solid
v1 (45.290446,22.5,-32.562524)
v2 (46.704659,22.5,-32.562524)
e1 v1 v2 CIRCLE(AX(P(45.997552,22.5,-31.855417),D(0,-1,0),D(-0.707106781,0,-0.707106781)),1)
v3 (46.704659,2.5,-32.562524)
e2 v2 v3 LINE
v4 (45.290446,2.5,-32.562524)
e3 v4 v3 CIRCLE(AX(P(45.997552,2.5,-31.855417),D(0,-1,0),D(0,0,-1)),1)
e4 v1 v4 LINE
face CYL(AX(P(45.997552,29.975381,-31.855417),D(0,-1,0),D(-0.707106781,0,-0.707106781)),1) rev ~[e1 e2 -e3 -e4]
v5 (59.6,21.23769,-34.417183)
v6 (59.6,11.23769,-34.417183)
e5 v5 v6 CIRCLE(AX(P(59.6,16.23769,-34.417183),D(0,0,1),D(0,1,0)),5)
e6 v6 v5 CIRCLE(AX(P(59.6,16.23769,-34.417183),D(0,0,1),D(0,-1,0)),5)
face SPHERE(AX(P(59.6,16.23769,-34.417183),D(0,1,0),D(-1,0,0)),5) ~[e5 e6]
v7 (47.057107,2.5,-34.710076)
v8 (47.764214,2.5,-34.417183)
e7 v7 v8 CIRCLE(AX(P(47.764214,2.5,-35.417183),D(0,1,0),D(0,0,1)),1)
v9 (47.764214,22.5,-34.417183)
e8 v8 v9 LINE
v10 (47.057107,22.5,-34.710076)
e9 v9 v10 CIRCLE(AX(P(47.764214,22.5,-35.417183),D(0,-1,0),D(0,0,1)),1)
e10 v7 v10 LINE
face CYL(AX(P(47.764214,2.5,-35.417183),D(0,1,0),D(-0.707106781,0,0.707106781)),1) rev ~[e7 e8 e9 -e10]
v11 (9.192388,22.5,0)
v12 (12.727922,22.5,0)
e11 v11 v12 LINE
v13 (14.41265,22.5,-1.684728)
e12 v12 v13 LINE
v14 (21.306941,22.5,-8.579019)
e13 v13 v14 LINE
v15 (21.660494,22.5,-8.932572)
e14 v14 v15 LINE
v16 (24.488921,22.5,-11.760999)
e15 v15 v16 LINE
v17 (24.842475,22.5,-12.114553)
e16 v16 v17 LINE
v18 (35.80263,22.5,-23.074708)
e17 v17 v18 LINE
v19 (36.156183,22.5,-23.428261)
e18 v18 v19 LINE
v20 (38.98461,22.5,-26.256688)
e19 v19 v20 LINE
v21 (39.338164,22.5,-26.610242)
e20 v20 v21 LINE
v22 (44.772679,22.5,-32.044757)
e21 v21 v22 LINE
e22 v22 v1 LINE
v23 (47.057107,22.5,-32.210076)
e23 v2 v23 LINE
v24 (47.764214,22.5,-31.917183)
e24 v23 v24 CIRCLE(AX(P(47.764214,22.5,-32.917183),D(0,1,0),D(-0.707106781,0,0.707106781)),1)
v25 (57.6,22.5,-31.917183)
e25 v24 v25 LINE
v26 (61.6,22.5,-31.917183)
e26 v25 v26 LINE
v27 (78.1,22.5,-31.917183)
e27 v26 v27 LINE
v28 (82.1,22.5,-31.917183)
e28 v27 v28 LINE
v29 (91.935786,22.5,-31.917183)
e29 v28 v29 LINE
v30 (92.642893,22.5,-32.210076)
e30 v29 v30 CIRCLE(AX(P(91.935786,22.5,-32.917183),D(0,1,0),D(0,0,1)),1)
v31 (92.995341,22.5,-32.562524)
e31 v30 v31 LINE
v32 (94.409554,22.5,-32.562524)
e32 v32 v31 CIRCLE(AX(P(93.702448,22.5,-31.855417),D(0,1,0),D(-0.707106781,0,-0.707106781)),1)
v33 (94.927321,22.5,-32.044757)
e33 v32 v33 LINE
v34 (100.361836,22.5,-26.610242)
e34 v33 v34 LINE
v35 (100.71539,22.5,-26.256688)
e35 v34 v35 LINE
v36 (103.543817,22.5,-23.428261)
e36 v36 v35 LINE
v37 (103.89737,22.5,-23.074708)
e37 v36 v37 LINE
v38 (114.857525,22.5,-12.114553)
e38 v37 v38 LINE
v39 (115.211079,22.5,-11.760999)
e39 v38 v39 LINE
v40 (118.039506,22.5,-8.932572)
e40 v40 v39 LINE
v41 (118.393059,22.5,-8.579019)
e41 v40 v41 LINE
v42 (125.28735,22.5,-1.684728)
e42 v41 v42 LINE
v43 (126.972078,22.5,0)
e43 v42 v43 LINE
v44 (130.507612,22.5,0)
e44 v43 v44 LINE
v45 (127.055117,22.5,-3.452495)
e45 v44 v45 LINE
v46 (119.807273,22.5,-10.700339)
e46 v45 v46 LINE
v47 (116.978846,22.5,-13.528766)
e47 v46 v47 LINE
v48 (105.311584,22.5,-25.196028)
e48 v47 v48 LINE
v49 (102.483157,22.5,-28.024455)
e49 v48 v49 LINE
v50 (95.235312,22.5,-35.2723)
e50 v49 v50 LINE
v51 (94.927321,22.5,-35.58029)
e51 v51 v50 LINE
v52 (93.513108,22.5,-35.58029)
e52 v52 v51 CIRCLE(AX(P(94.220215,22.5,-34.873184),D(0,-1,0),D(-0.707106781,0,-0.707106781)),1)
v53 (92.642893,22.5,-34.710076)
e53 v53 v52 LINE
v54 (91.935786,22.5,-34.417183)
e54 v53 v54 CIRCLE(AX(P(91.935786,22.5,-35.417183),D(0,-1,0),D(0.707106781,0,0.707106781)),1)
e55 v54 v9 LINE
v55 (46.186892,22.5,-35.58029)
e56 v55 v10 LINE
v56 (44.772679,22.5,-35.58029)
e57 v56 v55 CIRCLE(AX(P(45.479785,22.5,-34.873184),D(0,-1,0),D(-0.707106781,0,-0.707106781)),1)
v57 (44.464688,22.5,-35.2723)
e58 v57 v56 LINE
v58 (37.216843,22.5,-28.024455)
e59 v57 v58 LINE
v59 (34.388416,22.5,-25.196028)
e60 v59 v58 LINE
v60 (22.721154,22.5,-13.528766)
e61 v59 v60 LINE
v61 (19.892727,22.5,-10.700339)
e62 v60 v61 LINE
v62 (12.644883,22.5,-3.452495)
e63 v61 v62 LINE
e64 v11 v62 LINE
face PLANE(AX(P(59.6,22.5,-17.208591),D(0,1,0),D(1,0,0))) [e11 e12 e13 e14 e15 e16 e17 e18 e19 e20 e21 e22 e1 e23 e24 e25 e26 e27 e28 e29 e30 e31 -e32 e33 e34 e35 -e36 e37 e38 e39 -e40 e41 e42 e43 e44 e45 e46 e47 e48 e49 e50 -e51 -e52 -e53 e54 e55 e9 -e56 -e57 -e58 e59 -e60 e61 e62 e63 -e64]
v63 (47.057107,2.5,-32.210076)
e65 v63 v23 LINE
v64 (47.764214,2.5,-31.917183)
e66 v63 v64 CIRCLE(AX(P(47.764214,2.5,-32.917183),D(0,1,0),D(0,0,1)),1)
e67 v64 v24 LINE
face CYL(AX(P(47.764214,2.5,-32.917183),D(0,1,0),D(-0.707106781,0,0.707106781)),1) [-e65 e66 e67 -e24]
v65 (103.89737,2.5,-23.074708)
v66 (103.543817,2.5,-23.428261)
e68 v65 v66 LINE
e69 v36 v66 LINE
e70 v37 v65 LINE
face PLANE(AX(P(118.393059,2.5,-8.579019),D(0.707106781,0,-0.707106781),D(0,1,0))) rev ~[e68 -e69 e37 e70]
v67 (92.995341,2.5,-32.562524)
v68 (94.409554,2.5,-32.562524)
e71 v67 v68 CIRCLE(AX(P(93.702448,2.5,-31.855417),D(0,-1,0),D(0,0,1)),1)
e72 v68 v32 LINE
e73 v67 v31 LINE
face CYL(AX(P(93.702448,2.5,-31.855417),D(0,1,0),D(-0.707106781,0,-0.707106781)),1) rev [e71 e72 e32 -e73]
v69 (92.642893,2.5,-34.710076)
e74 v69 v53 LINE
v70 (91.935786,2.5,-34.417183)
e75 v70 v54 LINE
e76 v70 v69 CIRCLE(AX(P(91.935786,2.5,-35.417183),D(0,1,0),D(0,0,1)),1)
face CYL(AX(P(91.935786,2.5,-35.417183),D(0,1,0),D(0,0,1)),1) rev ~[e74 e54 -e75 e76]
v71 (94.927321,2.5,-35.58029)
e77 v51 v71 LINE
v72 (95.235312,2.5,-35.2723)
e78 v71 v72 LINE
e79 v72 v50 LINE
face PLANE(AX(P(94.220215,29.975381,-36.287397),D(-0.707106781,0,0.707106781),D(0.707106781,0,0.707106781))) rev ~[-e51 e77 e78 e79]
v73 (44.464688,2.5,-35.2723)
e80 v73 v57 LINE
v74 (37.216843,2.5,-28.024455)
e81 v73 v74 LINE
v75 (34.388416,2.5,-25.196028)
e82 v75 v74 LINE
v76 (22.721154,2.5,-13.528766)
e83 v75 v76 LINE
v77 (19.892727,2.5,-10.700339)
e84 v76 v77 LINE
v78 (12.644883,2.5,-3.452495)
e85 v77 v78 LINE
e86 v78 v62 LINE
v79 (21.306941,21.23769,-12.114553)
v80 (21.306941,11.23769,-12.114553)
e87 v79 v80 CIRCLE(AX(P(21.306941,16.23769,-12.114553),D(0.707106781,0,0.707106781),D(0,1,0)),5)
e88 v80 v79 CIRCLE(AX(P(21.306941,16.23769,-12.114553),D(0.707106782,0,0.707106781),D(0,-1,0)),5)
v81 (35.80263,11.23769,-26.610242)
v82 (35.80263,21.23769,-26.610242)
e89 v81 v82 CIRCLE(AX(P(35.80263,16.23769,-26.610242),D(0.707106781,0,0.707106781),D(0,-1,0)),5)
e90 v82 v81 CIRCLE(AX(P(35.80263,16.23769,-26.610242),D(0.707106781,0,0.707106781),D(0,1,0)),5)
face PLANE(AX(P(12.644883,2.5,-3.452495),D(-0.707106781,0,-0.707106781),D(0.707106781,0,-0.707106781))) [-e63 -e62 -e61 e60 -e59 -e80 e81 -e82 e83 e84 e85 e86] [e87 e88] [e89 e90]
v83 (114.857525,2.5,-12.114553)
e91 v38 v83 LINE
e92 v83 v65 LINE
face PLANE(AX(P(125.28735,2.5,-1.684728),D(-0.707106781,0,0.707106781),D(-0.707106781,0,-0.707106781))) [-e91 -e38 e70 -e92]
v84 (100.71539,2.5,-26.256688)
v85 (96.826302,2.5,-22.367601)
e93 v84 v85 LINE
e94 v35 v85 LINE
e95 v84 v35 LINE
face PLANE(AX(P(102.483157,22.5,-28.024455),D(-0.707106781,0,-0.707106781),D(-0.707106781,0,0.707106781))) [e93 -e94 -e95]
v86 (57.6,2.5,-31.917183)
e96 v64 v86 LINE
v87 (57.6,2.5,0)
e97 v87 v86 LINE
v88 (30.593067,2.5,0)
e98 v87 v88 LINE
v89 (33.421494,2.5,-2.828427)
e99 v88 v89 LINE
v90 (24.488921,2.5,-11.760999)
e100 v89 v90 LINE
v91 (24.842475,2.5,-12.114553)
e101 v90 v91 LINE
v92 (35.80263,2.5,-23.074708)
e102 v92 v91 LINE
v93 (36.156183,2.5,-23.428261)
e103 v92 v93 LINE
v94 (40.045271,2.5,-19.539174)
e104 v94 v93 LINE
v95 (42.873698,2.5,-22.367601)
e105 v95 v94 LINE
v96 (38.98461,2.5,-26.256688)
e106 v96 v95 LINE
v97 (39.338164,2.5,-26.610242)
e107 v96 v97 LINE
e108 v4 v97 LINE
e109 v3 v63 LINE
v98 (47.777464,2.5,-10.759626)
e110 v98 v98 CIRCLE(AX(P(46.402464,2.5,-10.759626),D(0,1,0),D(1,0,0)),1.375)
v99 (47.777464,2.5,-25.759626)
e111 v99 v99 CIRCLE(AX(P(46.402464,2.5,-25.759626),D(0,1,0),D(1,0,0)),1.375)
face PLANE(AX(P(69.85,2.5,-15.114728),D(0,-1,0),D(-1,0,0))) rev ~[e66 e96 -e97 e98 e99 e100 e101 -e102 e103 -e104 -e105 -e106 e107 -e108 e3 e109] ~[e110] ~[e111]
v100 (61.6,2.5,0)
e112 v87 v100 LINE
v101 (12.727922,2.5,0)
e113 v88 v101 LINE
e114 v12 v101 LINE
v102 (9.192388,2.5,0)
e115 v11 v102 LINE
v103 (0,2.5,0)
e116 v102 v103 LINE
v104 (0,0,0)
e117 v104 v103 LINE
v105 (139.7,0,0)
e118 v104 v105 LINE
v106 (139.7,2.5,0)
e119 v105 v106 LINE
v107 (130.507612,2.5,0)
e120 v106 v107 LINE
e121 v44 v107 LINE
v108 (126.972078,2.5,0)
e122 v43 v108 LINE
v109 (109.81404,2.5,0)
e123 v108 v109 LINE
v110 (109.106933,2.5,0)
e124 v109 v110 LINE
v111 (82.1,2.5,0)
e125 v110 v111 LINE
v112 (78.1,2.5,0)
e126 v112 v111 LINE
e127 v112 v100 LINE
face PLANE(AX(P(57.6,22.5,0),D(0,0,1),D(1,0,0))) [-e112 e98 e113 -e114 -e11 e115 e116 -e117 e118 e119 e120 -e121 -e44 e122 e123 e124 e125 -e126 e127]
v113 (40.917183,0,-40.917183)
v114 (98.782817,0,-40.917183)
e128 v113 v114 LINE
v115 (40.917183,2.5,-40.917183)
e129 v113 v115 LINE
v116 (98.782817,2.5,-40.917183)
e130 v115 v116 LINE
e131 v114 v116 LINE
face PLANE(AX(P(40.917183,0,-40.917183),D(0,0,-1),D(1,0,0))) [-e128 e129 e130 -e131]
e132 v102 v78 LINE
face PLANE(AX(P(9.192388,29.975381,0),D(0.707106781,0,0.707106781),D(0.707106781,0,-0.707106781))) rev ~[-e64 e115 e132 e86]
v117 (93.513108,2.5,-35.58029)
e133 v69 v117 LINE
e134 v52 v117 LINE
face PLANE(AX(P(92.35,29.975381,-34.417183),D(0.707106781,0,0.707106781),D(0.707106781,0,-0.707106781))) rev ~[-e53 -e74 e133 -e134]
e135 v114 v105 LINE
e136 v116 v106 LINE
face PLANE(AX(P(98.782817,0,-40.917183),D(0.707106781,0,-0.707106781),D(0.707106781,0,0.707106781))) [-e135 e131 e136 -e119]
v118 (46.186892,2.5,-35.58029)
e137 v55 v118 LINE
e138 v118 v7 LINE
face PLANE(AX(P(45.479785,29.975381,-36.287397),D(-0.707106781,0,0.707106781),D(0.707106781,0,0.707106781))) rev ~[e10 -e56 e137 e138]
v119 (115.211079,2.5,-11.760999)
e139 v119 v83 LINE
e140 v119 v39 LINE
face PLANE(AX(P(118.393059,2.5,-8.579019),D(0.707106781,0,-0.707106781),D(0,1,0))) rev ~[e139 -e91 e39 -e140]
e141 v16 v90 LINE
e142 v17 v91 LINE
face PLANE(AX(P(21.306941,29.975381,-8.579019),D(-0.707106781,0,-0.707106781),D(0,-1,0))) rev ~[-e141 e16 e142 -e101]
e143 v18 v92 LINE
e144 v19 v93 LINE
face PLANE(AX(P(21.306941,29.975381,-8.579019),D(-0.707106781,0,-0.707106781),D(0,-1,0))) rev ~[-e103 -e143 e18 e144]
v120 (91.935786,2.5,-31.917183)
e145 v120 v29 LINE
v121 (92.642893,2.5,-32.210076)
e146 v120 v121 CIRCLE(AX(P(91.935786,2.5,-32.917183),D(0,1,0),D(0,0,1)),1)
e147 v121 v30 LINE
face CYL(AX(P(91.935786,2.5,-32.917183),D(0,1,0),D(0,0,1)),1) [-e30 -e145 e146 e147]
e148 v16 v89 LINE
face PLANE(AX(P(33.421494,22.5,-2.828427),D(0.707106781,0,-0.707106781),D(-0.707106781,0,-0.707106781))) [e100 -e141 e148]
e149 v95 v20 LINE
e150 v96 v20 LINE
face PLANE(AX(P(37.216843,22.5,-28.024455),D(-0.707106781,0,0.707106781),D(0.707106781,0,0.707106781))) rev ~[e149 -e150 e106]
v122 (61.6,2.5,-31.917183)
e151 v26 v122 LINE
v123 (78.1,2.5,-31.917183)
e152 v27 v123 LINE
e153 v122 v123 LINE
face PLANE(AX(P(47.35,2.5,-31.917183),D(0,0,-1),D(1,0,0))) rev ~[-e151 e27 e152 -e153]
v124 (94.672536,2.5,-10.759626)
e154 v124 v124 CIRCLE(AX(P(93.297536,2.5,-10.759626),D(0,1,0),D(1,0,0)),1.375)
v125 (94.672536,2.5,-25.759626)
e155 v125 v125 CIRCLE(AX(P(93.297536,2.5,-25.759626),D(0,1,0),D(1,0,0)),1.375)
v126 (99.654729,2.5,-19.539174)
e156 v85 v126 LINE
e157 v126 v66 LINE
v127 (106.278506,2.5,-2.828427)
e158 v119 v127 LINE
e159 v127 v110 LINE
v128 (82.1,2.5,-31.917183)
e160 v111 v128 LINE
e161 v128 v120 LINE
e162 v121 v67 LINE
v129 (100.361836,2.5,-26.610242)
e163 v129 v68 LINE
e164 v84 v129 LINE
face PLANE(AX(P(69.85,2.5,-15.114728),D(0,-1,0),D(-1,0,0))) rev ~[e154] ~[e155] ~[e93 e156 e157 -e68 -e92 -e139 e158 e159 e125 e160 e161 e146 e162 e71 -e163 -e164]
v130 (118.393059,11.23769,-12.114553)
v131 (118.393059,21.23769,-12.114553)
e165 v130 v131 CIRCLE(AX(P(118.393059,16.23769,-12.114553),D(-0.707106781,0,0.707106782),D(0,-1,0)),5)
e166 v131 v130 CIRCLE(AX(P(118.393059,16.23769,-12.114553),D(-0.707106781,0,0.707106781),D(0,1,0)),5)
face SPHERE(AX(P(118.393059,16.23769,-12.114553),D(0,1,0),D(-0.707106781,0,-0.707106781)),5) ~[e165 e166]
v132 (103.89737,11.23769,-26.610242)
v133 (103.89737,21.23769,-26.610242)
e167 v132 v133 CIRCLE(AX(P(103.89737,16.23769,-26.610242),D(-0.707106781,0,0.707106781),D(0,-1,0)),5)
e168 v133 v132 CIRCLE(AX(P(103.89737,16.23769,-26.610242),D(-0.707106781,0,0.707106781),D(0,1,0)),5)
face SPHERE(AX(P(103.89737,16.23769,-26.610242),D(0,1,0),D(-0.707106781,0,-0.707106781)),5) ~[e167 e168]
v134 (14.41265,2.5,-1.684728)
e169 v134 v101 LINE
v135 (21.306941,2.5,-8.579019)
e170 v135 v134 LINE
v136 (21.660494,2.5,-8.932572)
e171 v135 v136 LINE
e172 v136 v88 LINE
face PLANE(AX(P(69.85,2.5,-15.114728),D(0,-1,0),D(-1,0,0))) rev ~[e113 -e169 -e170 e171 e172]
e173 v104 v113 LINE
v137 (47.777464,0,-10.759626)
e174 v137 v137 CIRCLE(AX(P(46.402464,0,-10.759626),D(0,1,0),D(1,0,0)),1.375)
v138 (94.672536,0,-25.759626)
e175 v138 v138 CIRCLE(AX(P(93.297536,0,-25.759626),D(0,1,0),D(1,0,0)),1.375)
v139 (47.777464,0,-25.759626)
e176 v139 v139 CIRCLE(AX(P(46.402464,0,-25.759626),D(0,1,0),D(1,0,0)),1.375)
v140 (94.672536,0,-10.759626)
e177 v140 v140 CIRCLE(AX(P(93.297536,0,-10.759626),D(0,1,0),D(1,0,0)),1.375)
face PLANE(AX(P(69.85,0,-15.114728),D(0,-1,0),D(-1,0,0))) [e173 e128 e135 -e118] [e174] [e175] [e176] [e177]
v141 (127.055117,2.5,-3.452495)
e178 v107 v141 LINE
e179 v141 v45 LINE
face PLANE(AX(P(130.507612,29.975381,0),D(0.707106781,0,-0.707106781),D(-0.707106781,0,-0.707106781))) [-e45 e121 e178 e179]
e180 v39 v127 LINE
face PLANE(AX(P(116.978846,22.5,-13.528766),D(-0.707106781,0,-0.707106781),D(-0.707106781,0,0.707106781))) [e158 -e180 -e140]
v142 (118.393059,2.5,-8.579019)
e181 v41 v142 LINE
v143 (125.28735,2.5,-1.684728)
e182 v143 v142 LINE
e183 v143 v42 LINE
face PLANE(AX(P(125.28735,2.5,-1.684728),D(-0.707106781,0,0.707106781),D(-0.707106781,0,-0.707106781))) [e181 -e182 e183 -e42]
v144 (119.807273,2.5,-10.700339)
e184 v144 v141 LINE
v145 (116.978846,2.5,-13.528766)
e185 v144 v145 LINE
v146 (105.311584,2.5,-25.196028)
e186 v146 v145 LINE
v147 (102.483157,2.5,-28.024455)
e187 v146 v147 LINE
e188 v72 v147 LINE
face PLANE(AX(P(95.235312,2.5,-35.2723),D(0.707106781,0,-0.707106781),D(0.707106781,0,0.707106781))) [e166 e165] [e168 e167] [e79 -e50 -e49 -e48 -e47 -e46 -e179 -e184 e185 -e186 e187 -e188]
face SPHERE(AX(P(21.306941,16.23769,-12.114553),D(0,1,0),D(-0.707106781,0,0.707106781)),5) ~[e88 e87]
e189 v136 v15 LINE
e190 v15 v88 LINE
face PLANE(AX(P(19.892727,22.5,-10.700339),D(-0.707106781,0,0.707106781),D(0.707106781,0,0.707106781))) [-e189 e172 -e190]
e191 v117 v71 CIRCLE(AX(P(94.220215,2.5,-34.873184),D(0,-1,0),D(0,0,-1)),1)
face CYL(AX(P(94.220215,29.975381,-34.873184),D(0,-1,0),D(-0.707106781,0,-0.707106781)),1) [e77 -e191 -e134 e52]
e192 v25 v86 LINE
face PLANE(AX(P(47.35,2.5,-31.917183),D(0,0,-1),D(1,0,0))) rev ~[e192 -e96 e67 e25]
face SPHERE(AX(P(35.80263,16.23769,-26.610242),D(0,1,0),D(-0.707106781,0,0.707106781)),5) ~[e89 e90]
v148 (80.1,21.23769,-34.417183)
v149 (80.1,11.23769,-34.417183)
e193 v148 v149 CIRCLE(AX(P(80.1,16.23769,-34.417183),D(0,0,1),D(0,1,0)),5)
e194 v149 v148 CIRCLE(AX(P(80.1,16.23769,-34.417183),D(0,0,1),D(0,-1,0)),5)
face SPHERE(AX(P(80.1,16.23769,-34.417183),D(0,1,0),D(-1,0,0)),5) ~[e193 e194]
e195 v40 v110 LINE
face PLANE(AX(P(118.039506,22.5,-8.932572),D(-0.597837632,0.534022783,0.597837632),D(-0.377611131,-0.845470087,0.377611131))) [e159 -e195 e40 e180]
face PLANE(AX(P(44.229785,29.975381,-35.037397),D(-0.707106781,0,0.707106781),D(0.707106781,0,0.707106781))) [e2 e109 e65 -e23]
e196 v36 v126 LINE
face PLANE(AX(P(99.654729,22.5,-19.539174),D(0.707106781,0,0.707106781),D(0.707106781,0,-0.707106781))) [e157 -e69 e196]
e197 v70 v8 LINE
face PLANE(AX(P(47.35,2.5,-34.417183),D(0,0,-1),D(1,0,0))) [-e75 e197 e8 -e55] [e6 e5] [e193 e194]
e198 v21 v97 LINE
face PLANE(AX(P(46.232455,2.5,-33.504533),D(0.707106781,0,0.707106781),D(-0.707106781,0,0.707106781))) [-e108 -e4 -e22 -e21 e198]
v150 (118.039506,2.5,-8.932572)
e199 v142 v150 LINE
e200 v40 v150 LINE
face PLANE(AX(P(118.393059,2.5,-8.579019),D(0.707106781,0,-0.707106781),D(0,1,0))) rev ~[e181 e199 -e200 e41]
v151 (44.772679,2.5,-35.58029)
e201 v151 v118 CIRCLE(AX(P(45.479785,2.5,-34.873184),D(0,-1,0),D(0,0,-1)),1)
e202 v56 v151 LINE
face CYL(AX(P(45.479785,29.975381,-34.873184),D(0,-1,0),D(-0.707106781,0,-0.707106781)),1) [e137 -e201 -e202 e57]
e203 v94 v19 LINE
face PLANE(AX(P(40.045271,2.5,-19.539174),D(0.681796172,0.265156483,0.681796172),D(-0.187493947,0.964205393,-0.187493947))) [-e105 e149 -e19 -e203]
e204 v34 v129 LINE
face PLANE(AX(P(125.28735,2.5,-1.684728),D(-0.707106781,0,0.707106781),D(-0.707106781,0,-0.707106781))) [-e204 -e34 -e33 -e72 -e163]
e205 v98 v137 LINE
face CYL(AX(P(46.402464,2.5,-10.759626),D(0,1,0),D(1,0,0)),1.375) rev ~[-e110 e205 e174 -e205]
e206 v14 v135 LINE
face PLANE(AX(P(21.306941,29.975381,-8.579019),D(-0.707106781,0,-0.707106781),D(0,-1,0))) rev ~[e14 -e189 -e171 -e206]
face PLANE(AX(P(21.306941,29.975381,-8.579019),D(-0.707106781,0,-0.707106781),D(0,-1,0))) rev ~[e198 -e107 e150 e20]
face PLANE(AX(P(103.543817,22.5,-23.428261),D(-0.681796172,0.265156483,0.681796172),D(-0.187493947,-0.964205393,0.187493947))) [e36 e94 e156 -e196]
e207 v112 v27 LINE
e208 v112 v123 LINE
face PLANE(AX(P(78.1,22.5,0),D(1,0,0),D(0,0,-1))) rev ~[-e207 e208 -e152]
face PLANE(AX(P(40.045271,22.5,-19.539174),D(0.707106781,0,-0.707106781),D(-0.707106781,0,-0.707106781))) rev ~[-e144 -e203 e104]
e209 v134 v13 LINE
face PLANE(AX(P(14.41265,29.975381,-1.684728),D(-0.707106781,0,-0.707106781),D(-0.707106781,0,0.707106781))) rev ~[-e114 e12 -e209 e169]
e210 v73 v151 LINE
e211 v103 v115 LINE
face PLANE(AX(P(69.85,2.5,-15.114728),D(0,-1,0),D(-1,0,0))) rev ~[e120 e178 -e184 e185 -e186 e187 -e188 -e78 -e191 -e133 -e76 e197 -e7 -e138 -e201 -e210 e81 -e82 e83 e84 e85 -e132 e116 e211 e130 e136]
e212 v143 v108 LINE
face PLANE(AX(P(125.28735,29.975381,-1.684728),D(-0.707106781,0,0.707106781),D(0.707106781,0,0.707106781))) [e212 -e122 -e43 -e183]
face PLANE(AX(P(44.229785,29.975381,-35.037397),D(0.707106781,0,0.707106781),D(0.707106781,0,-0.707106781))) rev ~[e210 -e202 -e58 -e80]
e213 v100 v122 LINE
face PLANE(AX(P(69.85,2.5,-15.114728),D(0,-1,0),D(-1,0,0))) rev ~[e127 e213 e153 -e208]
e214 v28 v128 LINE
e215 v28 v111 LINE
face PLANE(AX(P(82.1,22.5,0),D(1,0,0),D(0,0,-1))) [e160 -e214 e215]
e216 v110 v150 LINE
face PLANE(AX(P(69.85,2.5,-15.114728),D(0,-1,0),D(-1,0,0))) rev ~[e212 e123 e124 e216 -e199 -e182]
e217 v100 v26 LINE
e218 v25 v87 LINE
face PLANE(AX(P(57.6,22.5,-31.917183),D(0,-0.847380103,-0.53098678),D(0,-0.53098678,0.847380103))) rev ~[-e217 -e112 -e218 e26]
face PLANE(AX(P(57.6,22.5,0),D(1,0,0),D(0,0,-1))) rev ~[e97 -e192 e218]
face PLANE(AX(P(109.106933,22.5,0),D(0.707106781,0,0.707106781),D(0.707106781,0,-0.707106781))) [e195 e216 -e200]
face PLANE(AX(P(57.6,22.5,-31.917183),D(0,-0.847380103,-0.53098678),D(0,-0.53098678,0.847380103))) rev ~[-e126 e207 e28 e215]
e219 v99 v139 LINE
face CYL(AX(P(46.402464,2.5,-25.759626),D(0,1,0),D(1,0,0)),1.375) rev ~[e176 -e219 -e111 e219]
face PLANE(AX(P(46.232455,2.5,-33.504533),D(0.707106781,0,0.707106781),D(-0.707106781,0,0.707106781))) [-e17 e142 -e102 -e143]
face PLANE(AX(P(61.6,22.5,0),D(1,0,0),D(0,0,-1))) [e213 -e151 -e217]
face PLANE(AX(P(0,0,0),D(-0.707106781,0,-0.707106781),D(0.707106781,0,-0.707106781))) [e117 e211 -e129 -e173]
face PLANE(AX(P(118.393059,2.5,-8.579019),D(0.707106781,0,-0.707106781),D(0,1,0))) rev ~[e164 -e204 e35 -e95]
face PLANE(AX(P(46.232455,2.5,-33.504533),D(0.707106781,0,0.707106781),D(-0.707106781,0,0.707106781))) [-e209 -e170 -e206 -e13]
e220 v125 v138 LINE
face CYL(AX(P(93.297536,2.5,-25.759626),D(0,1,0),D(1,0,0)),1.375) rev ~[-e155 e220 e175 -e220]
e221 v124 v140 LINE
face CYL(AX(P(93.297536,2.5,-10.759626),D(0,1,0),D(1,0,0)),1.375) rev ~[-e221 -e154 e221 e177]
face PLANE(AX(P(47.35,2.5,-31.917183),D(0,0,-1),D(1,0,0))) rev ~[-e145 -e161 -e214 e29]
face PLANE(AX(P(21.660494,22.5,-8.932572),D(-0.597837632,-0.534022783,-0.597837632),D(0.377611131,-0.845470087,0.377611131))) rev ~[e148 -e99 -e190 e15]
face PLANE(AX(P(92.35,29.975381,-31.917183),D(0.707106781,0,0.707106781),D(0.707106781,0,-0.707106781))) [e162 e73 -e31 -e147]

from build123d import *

# Parameters (mm, degrees)
BRACKETBASE_DEPTH        = 2.5
SKETCH3_R                = 1.375
MOUNTINGHOLES_DEPTH      = 1
MOUNTINGHOLES_DEPTH_BACK = 3.5
BALLMOUNTPRESSURE_W      = 45
BALLMOUNTPRESSURE_H      = 2.5
BALLPRESSUREWALLS_DEPTH  = 27.47538085
BALL1_ANGLE              = 180
BALL2_ANGLE              = 180
BALL3_ANGLE              = 180
REVOLVE4_ANGLE           = 180
REVOLVE5_ANGLE           = 180
REVOLVE6_ANGLE           = 180
BOSS_EXTRUDE2_DEPTH      = 27.475381
FILLET1_R                = 1
SKETCH11_W               = 5
SKETCH11_H               = 31.91718267
BOSS_EXTRUDE3_DEPTH      = 27.475381
CUT_EXTRUDE1_DEPTH       = 47.632564804
CUT_EXTRUDE2_DEPTH       = 28.447536
CUT_EXTRUDE3_DEPTH       = 25.5
SKETCH15_W               = 50.154642736
SKETCH15_H               = 7.47538085
CUT_EXTRUDE4_DEPTH       = 10
SKETCH16_W               = 54.765129608
SKETCH16_H               = 7.47538085
CUT_EXTRUDE5_DEPTH       = 38.932817333
SKETCH17_W               = 54.765129607
SKETCH17_H               = 7.47538085
CUT_EXTRUDE6_DEPTH       = 38.932817333
CUT_EXTRUDE7_DEPTH       = 25.5
CUT_EXTRUDE8_DEPTH       = 28.447536
CUT_EXTRUDE9_DEPTH       = 25.5
SKETCH22_W               = 4
SKETCH22_H               = 34.41718267
BOSS_EXTRUDE4_DEPTH      = 20
CUT_EXTRUDE10_DEPTH      = 24.5
CUT_EXTRUDE11_DEPTH      = 4
CUT_EXTRUDE12_DEPTH      = 4
CUT_EXTRUDE13_DEPTH      = 4
CUT_EXTRUDE14_DEPTH      = 4
BOSS_EXTRUDE5_DEPTH      = 2.5


with BuildPart() as part:
    # Sketch2 → bracketBase (new body)
    with BuildSketch(Plane(origin=(0, 0, 0), x_dir=(1, 0, 0), z_dir=(0, 1, 0))):
        Polygon((0, 0), (40.91718267, 40.91718267), (98.78281733, 40.91718267), (139.7, 0), align=None)
    extrude(amount=BRACKETBASE_DEPTH)

    # Sketch3 → mountingHoles (cut, two sides)
    with BuildSketch(Plane(origin=(0, 2.5, 0), x_dir=(1, 0, 0), z_dir=(0, 1, 0))) as mountingholes_sk:
        with Locations((8.01021217, 3.76757148)):
            Circle(SKETCH3_R)
        with Locations((15.54535513, 11.30271444)):
            Circle(SKETCH3_R)
        with Locations((46.40246404, 25.75962576)):
            Circle(SKETCH3_R)
        with Locations((46.40246404, 10.75962576)):
            Circle(SKETCH3_R)
        with Locations((93.29753596, 10.75962576)):
            Circle(SKETCH3_R)
        with Locations((93.29753596, 25.75962576)):
            Circle(SKETCH3_R)
        with Locations((124.15464487, 11.30271444)):
            Circle(SKETCH3_R)
        with Locations((131.68978783, 3.76757148)):
            Circle(SKETCH3_R)
    extrude(amount=MOUNTINGHOLES_DEPTH, mode=Mode.SUBTRACT)
    extrude(mountingholes_sk.sketch, amount=-MOUNTINGHOLES_DEPTH_BACK, mode=Mode.SUBTRACT)

    # ballMountPressure → ballPressureWalls (add)
    with BuildSketch(Plane(origin=(0, 2.5, 0), x_dir=(1, 0, 0), z_dir=(0, 1, 0))):
        Polygon((12.644882838, 3.452494682), (44.464687991, 35.272299836), (46.232454944, 33.504532883), (14.412649791, 1.684727729), align=None)
        Polygon((125.287350209, 1.684727729), (93.467545056, 33.504532883), (95.235312009, 35.272299836), (127.055117162, 3.452494682), align=None)
        with Locations((69.85, 33.16718267)):
            Rectangle(BALLMOUNTPRESSURE_W, BALLMOUNTPRESSURE_H)
    extrude(amount=BALLPRESSUREWALLS_DEPTH)

    # Sketch4 → ball1 (revolve)
    with BuildSketch(Plane(origin=(0, 0, -34.41718267), x_dir=(-1, 0, 0), z_dir=(0, 0, -1))):
        with BuildLine():
            Line((-80.1, 21.237690425), (-80.1, 11.237690425))
            ThreePointArc((-80.1, 11.237690425), (-75.1, 16.237690425), (-80.1, 21.237690425))
        make_face()
    revolve(axis=Axis((80.1, 21.237690425, -34.41718267), (0, -1, 0)), revolution_arc=BALL1_ANGLE)

    # Sketch5 → ball2 (revolve)
    with BuildSketch(Plane(origin=(0, 0, -34.41718267), x_dir=(-1, 0, 0), z_dir=(0, 0, -1))):
        with BuildLine():
            Line((-59.6, 21.237690425), (-59.6, 11.237690425))
            ThreePointArc((-59.6, 11.237690425), (-54.6, 16.237690425), (-59.6, 21.237690425))
        make_face()
    revolve(axis=Axis((59.6, 21.237690425, -34.41718267), (0, -1, 0)), revolution_arc=BALL2_ANGLE)

    # Sketch6 → ball3 (revolve)
    with BuildSketch(Plane(origin=(65.253805922, 0, -65.253805922), x_dir=(-0.707106781, 0, -0.707106781), z_dir=(0.707106781, 0, -0.707106781))):
        with BuildLine():
            Line((-75.150252528, 21.237690425), (-75.150252528, 11.237690425))
            ThreePointArc((-75.150252528, 11.237690425), (-70.150252528, 16.237690425), (-75.150252528, 21.237690425))
        make_face()
    revolve(axis=Axis((118.393059093, 21.237690425, -12.114552752), (0, -1, 0)), revolution_arc=BALL3_ANGLE)

    # Sketch7 → Revolve4 (revolve)
    with BuildSketch(Plane(origin=(65.253805922, 0, -65.253805922), x_dir=(-0.707106781, 0, -0.707106781), z_dir=(0.707106781, 0, -0.707106781))):
        with BuildLine():
            Line((-54.650252528, 21.237690425), (-54.650252528, 11.237690425))
            ThreePointArc((-54.650252528, 11.237690425), (-49.650252528, 16.237690425), (-54.650252528, 21.237690425))
        make_face()
    revolve(axis=Axis((103.897370078, 21.237690425, -26.610241766), (0, -1, 0)), revolution_arc=REVOLVE4_ANGLE)

    # Sketch8 → Revolve5 (revolve)
    with BuildSketch(Plane(origin=(4.596194078, 0, 4.596194078), x_dir=(-0.707106781, 0, 0.707106781), z_dir=(-0.707106781, 0, -0.707106781))):
        with BuildLine():
            Line((-23.632564804, 21.237690425), (-23.632564804, 11.237690425))
            ThreePointArc((-23.632564804, 11.237690425), (-18.632564804, 16.237690425), (-23.632564804, 21.237690425))
        make_face()
    revolve(axis=Axis((21.306940907, 21.237690425, -12.114552752), (0, -1, 0)), revolution_arc=REVOLVE5_ANGLE)

    # Sketch9 → Revolve6 (revolve)
    with BuildSketch(Plane(origin=(4.596194078, 0, 4.596194078), x_dir=(-0.707106781, 0, 0.707106781), z_dir=(-0.707106781, 0, -0.707106781))):
        with BuildLine():
            Line((-44.132564804, 21.237690425), (-44.132564804, 11.237690425))
            ThreePointArc((-44.132564804, 11.237690425), (-39.132564804, 16.237690425), (-44.132564804, 21.237690425))
        make_face()
    revolve(axis=Axis((35.802629922, 21.237690425, -26.610241766), (0, -1, 0)), revolution_arc=REVOLVE6_ANGLE)

    # Sketch10 → Boss-Extrude2 (add)
    with BuildSketch(Plane(origin=(0, 29.97538085, 0), x_dir=(1, 0, 0), z_dir=(0, 1, 0))):
        Polygon((47.35, 31.91718267), (45.997552366, 33.269630304), (44.229785413, 35.037397257), (45.479785413, 36.287397257), (47.35, 34.41718267), align=None)
        Polygon((14.412649791, 1.684727729), (12.727922061, 0), (9.192388155, 0), (12.644882838, 3.452494682), align=None)
        Polygon((92.35, 34.41718267), (94.220214587, 36.287397257), (95.470214587, 35.037397257), (93.702447634, 33.269630304), (92.35, 31.91718267), align=None)
        Polygon((130.507611845, 0), (127.055117162, 3.452494682), (125.287350209, 1.684727729), (126.972077939, 0), align=None)
    extrude(amount=-BOSS_EXTRUDE2_DEPTH)

    # Fillet1
    fillet1_edges = [part.edges().sort_by_distance(p)[0] for p in [
        (45.997552366, 16.237690425, -33.269630304),
        (45.479785413, 16.23769035, -36.287397257),
        (94.220214587, 16.23769035, -36.287397257),
        (93.702447634, 16.237690425, -33.269630304),
        (47.35, 16.237690425, -34.41718267),
        (47.35, 16.237690425, -31.91718267),
        (92.35, 16.237690425, -31.91718267),
        (92.35, 16.237690425, -34.41718267),
    ]]
    fillet(fillet1_edges, radius=FILLET1_R)

    # Sketch11 → Boss-Extrude3 (add)
    with BuildSketch(Plane(origin=(0, 29.97538085, 0), x_dir=(1, 0, 0), z_dir=(0, 1, 0))):
        with Locations((58.12623202, 15.958591335)):
            Rectangle(SKETCH11_W, SKETCH11_H)
        with Locations((81.57376798, 15.958591335)):
            Rectangle(SKETCH11_W, SKETCH11_H)
        Polygon((35.802629922, 23.07470786), (44.381648767, 14.495689014), (47.917182673, 18.03122292), (39.338163828, 26.610241766), align=None)
        Polygon((21.306940907, 8.579018846), (24.842474813, 12.114552752), (33.421493659, 3.535533906), (29.885959753, 0), align=None)
        Polygon((109.814040247, 0), (106.278506341, 3.535533906), (114.857525187, 12.114552752), (118.393059093, 8.579018846), align=None)
        Polygon((91.782817327, 18.03122292), (100.361836172, 26.610241766), (103.897370078, 23.07470786), (95.318351233, 14.495689014), align=None)
    extrude(amount=-BOSS_EXTRUDE3_DEPTH)

    # Sketch12 → Cut-Extrude1 (cut, through all)
    with BuildSketch(Plane(origin=(32.974202797, 0, -32.974202797), x_dir=(-0.707106781, 0, -0.707106781), z_dir=(0.707106781, 0, -0.707106781))):
        Polygon((-9, 29.97538085), (-21.132564804, 2.5), (-21.132564804, 29.97538085), align=None)
    extrude(amount=-CUT_EXTRUDE1_DEPTH, mode=Mode.SUBTRACT)

    # Sketch13 → Cut-Extrude2 (cut)
    with BuildSketch(Plane.ZY.offset(-55.62623202)):
        Polygon((-31.91718267, 29.97538085), (0, 2.5), (0, 29.97538085), align=None)
    extrude(amount=-CUT_EXTRUDE2_DEPTH, mode=Mode.SUBTRACT)

    # Sketch14 → Cut-Extrude3 (cut)
    with BuildSketch(Plane(origin=(54.907020123, 0, 54.907020123), x_dir=(0.707106781, 0, -0.707106781), z_dir=(0.707106781, 0, 0.707106781))):
        Polygon((77.650252528, 2.5), (89.782817332, 29.97538085), (77.650252528, 29.97538085), align=None)
    extrude(amount=-CUT_EXTRUDE3_DEPTH, mode=Mode.SUBTRACT)

    # Sketch15 → Cut-Extrude4 (cut, through all)
    with BuildSketch(Plane.XY.offset(-31.91718267)):
        with Locations((69.85, 26.237690425)):
            Rectangle(SKETCH15_W, SKETCH15_H)
    extrude(amount=-CUT_EXTRUDE4_DEPTH, mode=Mode.SUBTRACT)

    # Sketch16 → Cut-Extrude5 (cut, through all)
    with BuildSketch(Plane(origin=(63.486038969, 0, -63.486038969), x_dir=(0.707106781, 0, 0.707106781), z_dir=(-0.707106781, 0, 0.707106781))):
        with Locations((64.900252528, 26.237690425)):
            Rectangle(SKETCH16_W, SKETCH16_H)
    extrude(amount=-CUT_EXTRUDE5_DEPTH, mode=Mode.SUBTRACT)

    # Sketch17 → Cut-Extrude6 (cut, through all)
    with BuildSketch(Plane(origin=(6.363961031, 0, 6.363961031), x_dir=(0.707106781, 0, -0.707106781), z_dir=(0.707106781, 0, 0.707106781))):
        with Locations((33.882564804, 26.237690425)):
            Rectangle(SKETCH17_W, SKETCH17_H)
    extrude(amount=-CUT_EXTRUDE6_DEPTH, mode=Mode.SUBTRACT)

    # Sketch19 → Cut-Extrude7 (cut)
    with BuildSketch(Plane(origin=(14.942979877, 0, -14.942979877), x_dir=(0.707106781, 0, 0.707106781), z_dir=(-0.707106781, 0, 0.707106781))):
        Polygon((21.132564804, 2.5), (9, 29.97538085), (9, 22.5), (9, 2.5), align=None)
    extrude(amount=-CUT_EXTRUDE7_DEPTH, mode=Mode.SUBTRACT)

    # Sketch20 → Cut-Extrude8 (cut)
    with BuildSketch(Plane.ZY.offset(-55.62623202)):
        Polygon((0, 2.5), (-31.91718267, 29.97538085), (-31.91718267, 22.5), (-31.91718267, 2.5), align=None)
    extrude(amount=-CUT_EXTRUDE8_DEPTH, mode=Mode.SUBTRACT)

    # Sketch21 → Cut-Extrude9 (cut)
    with BuildSketch(Plane(origin=(54.907020123, 0, 54.907020123), x_dir=(0.707106781, 0, -0.707106781), z_dir=(0.707106781, 0, 0.707106781))):
        Polygon((89.782817332, 29.97538085), (77.650252528, 2.5), (89.782817332, 2.5), (89.782817332, 22.5), align=None)
    extrude(amount=-CUT_EXTRUDE9_DEPTH, mode=Mode.SUBTRACT)

    # Sketch22 → Boss-Extrude4 (add)
    with BuildSketch(Plane(origin=(0, 22.5, 0), x_dir=(1, 0, 0), z_dir=(0, 1, 0))):
        with Locations((59.6, 17.208591335)):
            Rectangle(SKETCH22_W, SKETCH22_H)
        Polygon((19.892727345, 10.700339189), (30.593066534, 0), (33.421493659, 2.828427125), (22.72115447, 13.528766314), align=None)
        with Locations((80.1, 17.208591335)):
            Rectangle(SKETCH22_W, SKETCH22_H)
        Polygon((34.388416359, 25.196028204), (37.216843484, 28.024455329), (42.873697733, 22.367601079), (40.045270609, 19.539173954), align=None)
        Polygon((105.311583641, 25.196028204), (102.483156516, 28.024455329), (96.826302267, 22.367601079), (99.654729391, 19.539173954), align=None)
        Polygon((119.807272655, 10.700339189), (116.97884553, 13.528766314), (106.278506341, 2.828427125), (109.106933466, 0), align=None)
    extrude(amount=-BOSS_EXTRUDE4_DEPTH)

    # Sketch23 → Cut-Extrude10 (cut)
    with BuildSketch(Plane.ZY.offset(-57.6)):
        Polygon((-31.91718267, 22.5), (0, 2.5), (0, 22.5), align=None)
    extrude(amount=-CUT_EXTRUDE10_DEPTH, mode=Mode.SUBTRACT)

    # Sketch24 → Cut-Extrude11 (cut)
    with BuildSketch(Plane(origin=(15.296533267, 0, -15.296533267), x_dir=(0.707106781, 0, 0.707106781), z_dir=(-0.707106781, 0, 0.707106781))):
        Polygon((9, 22.5), (21.632564804, 2.5), (21.632564804, 22.5), align=None)
    extrude(amount=-CUT_EXTRUDE11_DEPTH, mode=Mode.SUBTRACT)

    # Sketch25 → Cut-Extrude12 (cut)
    with BuildSketch(Plane(origin=(54.553466733, 0, 54.553466733), x_dir=(0.707106781, 0, -0.707106781), z_dir=(0.707106781, 0, 0.707106781))):
        Polygon((89.782817332, 22.5), (77.150252528, 2.5), (77.150252528, 22.5), align=None)
    extrude(amount=-CUT_EXTRUDE12_DEPTH, mode=Mode.SUBTRACT)

    # Sketch26 → Cut-Extrude13 (cut)
    with BuildSketch(Plane(origin=(29.792222281, 0, -29.792222281), x_dir=(0.707106781, 0, 0.707106781), z_dir=(-0.707106781, 0, 0.707106781))):
        Polygon((9, 22.5), (14.5, 22.5), (14.5, 2.5), align=None)
    extrude(amount=-CUT_EXTRUDE13_DEPTH, mode=Mode.SUBTRACT)

    # Sketch27 → Cut-Extrude14 (cut)
    with BuildSketch(Plane(origin=(40.057777719, 0, 40.057777719), x_dir=(0.707106781, 0, -0.707106781), z_dir=(0.707106781, 0, 0.707106781))):
        Polygon((84.282817332, 22.5), (89.782817332, 22.5), (84.282817332, 2.5), align=None)
    extrude(amount=-CUT_EXTRUDE14_DEPTH, mode=Mode.SUBTRACT)

    # Sketch28 → Boss-Extrude5 (add)
    with BuildSketch(Plane(origin=(0, 2.5, 0), x_dir=(1, 0, 0), z_dir=(0, 1, 0))):
        with BuildLine():
            Line((46.186892194, 35.580290476), (47.057106781, 34.710075889))
            ThreePointArc((47.057106781, 34.710075889), (47.38153013, 34.493303137), (47.764213562, 34.41718267))
            Line((47.764213562, 34.41718267), (91.935786438, 34.41718267))
            ThreePointArc((91.935786438, 34.41718267), (92.31846987, 34.493303137), (92.642893219, 34.710075889))
            Line((92.642893219, 34.710075889), (93.513107806, 35.580290476))
            ThreePointArc((93.513107806, 35.580290476), (94.220214587, 35.873183695), (94.927321368, 35.580290476))
            Line((94.927321368, 35.580290476), (130.507611845, 0))
            Line((130.507611845, 0), (139.7, 0))
            Line((139.7, 0), (98.78281733, 40.91718267))
            Line((98.78281733, 40.91718267), (40.91718267, 40.91718267))
            Line((40.91718267, 40.91718267), (0, 0))
            Line((0, 0), (9.192388155, 0))
            Line((9.192388155, 0), (44.772678632, 35.580290476))
            ThreePointArc((44.772678632, 35.580290476), (45.479785413, 35.873183695), (46.186892194, 35.580290476))
        make_face()
    extrude(amount=-BOSS_EXTRUDE5_DEPTH)


solid = part.part
